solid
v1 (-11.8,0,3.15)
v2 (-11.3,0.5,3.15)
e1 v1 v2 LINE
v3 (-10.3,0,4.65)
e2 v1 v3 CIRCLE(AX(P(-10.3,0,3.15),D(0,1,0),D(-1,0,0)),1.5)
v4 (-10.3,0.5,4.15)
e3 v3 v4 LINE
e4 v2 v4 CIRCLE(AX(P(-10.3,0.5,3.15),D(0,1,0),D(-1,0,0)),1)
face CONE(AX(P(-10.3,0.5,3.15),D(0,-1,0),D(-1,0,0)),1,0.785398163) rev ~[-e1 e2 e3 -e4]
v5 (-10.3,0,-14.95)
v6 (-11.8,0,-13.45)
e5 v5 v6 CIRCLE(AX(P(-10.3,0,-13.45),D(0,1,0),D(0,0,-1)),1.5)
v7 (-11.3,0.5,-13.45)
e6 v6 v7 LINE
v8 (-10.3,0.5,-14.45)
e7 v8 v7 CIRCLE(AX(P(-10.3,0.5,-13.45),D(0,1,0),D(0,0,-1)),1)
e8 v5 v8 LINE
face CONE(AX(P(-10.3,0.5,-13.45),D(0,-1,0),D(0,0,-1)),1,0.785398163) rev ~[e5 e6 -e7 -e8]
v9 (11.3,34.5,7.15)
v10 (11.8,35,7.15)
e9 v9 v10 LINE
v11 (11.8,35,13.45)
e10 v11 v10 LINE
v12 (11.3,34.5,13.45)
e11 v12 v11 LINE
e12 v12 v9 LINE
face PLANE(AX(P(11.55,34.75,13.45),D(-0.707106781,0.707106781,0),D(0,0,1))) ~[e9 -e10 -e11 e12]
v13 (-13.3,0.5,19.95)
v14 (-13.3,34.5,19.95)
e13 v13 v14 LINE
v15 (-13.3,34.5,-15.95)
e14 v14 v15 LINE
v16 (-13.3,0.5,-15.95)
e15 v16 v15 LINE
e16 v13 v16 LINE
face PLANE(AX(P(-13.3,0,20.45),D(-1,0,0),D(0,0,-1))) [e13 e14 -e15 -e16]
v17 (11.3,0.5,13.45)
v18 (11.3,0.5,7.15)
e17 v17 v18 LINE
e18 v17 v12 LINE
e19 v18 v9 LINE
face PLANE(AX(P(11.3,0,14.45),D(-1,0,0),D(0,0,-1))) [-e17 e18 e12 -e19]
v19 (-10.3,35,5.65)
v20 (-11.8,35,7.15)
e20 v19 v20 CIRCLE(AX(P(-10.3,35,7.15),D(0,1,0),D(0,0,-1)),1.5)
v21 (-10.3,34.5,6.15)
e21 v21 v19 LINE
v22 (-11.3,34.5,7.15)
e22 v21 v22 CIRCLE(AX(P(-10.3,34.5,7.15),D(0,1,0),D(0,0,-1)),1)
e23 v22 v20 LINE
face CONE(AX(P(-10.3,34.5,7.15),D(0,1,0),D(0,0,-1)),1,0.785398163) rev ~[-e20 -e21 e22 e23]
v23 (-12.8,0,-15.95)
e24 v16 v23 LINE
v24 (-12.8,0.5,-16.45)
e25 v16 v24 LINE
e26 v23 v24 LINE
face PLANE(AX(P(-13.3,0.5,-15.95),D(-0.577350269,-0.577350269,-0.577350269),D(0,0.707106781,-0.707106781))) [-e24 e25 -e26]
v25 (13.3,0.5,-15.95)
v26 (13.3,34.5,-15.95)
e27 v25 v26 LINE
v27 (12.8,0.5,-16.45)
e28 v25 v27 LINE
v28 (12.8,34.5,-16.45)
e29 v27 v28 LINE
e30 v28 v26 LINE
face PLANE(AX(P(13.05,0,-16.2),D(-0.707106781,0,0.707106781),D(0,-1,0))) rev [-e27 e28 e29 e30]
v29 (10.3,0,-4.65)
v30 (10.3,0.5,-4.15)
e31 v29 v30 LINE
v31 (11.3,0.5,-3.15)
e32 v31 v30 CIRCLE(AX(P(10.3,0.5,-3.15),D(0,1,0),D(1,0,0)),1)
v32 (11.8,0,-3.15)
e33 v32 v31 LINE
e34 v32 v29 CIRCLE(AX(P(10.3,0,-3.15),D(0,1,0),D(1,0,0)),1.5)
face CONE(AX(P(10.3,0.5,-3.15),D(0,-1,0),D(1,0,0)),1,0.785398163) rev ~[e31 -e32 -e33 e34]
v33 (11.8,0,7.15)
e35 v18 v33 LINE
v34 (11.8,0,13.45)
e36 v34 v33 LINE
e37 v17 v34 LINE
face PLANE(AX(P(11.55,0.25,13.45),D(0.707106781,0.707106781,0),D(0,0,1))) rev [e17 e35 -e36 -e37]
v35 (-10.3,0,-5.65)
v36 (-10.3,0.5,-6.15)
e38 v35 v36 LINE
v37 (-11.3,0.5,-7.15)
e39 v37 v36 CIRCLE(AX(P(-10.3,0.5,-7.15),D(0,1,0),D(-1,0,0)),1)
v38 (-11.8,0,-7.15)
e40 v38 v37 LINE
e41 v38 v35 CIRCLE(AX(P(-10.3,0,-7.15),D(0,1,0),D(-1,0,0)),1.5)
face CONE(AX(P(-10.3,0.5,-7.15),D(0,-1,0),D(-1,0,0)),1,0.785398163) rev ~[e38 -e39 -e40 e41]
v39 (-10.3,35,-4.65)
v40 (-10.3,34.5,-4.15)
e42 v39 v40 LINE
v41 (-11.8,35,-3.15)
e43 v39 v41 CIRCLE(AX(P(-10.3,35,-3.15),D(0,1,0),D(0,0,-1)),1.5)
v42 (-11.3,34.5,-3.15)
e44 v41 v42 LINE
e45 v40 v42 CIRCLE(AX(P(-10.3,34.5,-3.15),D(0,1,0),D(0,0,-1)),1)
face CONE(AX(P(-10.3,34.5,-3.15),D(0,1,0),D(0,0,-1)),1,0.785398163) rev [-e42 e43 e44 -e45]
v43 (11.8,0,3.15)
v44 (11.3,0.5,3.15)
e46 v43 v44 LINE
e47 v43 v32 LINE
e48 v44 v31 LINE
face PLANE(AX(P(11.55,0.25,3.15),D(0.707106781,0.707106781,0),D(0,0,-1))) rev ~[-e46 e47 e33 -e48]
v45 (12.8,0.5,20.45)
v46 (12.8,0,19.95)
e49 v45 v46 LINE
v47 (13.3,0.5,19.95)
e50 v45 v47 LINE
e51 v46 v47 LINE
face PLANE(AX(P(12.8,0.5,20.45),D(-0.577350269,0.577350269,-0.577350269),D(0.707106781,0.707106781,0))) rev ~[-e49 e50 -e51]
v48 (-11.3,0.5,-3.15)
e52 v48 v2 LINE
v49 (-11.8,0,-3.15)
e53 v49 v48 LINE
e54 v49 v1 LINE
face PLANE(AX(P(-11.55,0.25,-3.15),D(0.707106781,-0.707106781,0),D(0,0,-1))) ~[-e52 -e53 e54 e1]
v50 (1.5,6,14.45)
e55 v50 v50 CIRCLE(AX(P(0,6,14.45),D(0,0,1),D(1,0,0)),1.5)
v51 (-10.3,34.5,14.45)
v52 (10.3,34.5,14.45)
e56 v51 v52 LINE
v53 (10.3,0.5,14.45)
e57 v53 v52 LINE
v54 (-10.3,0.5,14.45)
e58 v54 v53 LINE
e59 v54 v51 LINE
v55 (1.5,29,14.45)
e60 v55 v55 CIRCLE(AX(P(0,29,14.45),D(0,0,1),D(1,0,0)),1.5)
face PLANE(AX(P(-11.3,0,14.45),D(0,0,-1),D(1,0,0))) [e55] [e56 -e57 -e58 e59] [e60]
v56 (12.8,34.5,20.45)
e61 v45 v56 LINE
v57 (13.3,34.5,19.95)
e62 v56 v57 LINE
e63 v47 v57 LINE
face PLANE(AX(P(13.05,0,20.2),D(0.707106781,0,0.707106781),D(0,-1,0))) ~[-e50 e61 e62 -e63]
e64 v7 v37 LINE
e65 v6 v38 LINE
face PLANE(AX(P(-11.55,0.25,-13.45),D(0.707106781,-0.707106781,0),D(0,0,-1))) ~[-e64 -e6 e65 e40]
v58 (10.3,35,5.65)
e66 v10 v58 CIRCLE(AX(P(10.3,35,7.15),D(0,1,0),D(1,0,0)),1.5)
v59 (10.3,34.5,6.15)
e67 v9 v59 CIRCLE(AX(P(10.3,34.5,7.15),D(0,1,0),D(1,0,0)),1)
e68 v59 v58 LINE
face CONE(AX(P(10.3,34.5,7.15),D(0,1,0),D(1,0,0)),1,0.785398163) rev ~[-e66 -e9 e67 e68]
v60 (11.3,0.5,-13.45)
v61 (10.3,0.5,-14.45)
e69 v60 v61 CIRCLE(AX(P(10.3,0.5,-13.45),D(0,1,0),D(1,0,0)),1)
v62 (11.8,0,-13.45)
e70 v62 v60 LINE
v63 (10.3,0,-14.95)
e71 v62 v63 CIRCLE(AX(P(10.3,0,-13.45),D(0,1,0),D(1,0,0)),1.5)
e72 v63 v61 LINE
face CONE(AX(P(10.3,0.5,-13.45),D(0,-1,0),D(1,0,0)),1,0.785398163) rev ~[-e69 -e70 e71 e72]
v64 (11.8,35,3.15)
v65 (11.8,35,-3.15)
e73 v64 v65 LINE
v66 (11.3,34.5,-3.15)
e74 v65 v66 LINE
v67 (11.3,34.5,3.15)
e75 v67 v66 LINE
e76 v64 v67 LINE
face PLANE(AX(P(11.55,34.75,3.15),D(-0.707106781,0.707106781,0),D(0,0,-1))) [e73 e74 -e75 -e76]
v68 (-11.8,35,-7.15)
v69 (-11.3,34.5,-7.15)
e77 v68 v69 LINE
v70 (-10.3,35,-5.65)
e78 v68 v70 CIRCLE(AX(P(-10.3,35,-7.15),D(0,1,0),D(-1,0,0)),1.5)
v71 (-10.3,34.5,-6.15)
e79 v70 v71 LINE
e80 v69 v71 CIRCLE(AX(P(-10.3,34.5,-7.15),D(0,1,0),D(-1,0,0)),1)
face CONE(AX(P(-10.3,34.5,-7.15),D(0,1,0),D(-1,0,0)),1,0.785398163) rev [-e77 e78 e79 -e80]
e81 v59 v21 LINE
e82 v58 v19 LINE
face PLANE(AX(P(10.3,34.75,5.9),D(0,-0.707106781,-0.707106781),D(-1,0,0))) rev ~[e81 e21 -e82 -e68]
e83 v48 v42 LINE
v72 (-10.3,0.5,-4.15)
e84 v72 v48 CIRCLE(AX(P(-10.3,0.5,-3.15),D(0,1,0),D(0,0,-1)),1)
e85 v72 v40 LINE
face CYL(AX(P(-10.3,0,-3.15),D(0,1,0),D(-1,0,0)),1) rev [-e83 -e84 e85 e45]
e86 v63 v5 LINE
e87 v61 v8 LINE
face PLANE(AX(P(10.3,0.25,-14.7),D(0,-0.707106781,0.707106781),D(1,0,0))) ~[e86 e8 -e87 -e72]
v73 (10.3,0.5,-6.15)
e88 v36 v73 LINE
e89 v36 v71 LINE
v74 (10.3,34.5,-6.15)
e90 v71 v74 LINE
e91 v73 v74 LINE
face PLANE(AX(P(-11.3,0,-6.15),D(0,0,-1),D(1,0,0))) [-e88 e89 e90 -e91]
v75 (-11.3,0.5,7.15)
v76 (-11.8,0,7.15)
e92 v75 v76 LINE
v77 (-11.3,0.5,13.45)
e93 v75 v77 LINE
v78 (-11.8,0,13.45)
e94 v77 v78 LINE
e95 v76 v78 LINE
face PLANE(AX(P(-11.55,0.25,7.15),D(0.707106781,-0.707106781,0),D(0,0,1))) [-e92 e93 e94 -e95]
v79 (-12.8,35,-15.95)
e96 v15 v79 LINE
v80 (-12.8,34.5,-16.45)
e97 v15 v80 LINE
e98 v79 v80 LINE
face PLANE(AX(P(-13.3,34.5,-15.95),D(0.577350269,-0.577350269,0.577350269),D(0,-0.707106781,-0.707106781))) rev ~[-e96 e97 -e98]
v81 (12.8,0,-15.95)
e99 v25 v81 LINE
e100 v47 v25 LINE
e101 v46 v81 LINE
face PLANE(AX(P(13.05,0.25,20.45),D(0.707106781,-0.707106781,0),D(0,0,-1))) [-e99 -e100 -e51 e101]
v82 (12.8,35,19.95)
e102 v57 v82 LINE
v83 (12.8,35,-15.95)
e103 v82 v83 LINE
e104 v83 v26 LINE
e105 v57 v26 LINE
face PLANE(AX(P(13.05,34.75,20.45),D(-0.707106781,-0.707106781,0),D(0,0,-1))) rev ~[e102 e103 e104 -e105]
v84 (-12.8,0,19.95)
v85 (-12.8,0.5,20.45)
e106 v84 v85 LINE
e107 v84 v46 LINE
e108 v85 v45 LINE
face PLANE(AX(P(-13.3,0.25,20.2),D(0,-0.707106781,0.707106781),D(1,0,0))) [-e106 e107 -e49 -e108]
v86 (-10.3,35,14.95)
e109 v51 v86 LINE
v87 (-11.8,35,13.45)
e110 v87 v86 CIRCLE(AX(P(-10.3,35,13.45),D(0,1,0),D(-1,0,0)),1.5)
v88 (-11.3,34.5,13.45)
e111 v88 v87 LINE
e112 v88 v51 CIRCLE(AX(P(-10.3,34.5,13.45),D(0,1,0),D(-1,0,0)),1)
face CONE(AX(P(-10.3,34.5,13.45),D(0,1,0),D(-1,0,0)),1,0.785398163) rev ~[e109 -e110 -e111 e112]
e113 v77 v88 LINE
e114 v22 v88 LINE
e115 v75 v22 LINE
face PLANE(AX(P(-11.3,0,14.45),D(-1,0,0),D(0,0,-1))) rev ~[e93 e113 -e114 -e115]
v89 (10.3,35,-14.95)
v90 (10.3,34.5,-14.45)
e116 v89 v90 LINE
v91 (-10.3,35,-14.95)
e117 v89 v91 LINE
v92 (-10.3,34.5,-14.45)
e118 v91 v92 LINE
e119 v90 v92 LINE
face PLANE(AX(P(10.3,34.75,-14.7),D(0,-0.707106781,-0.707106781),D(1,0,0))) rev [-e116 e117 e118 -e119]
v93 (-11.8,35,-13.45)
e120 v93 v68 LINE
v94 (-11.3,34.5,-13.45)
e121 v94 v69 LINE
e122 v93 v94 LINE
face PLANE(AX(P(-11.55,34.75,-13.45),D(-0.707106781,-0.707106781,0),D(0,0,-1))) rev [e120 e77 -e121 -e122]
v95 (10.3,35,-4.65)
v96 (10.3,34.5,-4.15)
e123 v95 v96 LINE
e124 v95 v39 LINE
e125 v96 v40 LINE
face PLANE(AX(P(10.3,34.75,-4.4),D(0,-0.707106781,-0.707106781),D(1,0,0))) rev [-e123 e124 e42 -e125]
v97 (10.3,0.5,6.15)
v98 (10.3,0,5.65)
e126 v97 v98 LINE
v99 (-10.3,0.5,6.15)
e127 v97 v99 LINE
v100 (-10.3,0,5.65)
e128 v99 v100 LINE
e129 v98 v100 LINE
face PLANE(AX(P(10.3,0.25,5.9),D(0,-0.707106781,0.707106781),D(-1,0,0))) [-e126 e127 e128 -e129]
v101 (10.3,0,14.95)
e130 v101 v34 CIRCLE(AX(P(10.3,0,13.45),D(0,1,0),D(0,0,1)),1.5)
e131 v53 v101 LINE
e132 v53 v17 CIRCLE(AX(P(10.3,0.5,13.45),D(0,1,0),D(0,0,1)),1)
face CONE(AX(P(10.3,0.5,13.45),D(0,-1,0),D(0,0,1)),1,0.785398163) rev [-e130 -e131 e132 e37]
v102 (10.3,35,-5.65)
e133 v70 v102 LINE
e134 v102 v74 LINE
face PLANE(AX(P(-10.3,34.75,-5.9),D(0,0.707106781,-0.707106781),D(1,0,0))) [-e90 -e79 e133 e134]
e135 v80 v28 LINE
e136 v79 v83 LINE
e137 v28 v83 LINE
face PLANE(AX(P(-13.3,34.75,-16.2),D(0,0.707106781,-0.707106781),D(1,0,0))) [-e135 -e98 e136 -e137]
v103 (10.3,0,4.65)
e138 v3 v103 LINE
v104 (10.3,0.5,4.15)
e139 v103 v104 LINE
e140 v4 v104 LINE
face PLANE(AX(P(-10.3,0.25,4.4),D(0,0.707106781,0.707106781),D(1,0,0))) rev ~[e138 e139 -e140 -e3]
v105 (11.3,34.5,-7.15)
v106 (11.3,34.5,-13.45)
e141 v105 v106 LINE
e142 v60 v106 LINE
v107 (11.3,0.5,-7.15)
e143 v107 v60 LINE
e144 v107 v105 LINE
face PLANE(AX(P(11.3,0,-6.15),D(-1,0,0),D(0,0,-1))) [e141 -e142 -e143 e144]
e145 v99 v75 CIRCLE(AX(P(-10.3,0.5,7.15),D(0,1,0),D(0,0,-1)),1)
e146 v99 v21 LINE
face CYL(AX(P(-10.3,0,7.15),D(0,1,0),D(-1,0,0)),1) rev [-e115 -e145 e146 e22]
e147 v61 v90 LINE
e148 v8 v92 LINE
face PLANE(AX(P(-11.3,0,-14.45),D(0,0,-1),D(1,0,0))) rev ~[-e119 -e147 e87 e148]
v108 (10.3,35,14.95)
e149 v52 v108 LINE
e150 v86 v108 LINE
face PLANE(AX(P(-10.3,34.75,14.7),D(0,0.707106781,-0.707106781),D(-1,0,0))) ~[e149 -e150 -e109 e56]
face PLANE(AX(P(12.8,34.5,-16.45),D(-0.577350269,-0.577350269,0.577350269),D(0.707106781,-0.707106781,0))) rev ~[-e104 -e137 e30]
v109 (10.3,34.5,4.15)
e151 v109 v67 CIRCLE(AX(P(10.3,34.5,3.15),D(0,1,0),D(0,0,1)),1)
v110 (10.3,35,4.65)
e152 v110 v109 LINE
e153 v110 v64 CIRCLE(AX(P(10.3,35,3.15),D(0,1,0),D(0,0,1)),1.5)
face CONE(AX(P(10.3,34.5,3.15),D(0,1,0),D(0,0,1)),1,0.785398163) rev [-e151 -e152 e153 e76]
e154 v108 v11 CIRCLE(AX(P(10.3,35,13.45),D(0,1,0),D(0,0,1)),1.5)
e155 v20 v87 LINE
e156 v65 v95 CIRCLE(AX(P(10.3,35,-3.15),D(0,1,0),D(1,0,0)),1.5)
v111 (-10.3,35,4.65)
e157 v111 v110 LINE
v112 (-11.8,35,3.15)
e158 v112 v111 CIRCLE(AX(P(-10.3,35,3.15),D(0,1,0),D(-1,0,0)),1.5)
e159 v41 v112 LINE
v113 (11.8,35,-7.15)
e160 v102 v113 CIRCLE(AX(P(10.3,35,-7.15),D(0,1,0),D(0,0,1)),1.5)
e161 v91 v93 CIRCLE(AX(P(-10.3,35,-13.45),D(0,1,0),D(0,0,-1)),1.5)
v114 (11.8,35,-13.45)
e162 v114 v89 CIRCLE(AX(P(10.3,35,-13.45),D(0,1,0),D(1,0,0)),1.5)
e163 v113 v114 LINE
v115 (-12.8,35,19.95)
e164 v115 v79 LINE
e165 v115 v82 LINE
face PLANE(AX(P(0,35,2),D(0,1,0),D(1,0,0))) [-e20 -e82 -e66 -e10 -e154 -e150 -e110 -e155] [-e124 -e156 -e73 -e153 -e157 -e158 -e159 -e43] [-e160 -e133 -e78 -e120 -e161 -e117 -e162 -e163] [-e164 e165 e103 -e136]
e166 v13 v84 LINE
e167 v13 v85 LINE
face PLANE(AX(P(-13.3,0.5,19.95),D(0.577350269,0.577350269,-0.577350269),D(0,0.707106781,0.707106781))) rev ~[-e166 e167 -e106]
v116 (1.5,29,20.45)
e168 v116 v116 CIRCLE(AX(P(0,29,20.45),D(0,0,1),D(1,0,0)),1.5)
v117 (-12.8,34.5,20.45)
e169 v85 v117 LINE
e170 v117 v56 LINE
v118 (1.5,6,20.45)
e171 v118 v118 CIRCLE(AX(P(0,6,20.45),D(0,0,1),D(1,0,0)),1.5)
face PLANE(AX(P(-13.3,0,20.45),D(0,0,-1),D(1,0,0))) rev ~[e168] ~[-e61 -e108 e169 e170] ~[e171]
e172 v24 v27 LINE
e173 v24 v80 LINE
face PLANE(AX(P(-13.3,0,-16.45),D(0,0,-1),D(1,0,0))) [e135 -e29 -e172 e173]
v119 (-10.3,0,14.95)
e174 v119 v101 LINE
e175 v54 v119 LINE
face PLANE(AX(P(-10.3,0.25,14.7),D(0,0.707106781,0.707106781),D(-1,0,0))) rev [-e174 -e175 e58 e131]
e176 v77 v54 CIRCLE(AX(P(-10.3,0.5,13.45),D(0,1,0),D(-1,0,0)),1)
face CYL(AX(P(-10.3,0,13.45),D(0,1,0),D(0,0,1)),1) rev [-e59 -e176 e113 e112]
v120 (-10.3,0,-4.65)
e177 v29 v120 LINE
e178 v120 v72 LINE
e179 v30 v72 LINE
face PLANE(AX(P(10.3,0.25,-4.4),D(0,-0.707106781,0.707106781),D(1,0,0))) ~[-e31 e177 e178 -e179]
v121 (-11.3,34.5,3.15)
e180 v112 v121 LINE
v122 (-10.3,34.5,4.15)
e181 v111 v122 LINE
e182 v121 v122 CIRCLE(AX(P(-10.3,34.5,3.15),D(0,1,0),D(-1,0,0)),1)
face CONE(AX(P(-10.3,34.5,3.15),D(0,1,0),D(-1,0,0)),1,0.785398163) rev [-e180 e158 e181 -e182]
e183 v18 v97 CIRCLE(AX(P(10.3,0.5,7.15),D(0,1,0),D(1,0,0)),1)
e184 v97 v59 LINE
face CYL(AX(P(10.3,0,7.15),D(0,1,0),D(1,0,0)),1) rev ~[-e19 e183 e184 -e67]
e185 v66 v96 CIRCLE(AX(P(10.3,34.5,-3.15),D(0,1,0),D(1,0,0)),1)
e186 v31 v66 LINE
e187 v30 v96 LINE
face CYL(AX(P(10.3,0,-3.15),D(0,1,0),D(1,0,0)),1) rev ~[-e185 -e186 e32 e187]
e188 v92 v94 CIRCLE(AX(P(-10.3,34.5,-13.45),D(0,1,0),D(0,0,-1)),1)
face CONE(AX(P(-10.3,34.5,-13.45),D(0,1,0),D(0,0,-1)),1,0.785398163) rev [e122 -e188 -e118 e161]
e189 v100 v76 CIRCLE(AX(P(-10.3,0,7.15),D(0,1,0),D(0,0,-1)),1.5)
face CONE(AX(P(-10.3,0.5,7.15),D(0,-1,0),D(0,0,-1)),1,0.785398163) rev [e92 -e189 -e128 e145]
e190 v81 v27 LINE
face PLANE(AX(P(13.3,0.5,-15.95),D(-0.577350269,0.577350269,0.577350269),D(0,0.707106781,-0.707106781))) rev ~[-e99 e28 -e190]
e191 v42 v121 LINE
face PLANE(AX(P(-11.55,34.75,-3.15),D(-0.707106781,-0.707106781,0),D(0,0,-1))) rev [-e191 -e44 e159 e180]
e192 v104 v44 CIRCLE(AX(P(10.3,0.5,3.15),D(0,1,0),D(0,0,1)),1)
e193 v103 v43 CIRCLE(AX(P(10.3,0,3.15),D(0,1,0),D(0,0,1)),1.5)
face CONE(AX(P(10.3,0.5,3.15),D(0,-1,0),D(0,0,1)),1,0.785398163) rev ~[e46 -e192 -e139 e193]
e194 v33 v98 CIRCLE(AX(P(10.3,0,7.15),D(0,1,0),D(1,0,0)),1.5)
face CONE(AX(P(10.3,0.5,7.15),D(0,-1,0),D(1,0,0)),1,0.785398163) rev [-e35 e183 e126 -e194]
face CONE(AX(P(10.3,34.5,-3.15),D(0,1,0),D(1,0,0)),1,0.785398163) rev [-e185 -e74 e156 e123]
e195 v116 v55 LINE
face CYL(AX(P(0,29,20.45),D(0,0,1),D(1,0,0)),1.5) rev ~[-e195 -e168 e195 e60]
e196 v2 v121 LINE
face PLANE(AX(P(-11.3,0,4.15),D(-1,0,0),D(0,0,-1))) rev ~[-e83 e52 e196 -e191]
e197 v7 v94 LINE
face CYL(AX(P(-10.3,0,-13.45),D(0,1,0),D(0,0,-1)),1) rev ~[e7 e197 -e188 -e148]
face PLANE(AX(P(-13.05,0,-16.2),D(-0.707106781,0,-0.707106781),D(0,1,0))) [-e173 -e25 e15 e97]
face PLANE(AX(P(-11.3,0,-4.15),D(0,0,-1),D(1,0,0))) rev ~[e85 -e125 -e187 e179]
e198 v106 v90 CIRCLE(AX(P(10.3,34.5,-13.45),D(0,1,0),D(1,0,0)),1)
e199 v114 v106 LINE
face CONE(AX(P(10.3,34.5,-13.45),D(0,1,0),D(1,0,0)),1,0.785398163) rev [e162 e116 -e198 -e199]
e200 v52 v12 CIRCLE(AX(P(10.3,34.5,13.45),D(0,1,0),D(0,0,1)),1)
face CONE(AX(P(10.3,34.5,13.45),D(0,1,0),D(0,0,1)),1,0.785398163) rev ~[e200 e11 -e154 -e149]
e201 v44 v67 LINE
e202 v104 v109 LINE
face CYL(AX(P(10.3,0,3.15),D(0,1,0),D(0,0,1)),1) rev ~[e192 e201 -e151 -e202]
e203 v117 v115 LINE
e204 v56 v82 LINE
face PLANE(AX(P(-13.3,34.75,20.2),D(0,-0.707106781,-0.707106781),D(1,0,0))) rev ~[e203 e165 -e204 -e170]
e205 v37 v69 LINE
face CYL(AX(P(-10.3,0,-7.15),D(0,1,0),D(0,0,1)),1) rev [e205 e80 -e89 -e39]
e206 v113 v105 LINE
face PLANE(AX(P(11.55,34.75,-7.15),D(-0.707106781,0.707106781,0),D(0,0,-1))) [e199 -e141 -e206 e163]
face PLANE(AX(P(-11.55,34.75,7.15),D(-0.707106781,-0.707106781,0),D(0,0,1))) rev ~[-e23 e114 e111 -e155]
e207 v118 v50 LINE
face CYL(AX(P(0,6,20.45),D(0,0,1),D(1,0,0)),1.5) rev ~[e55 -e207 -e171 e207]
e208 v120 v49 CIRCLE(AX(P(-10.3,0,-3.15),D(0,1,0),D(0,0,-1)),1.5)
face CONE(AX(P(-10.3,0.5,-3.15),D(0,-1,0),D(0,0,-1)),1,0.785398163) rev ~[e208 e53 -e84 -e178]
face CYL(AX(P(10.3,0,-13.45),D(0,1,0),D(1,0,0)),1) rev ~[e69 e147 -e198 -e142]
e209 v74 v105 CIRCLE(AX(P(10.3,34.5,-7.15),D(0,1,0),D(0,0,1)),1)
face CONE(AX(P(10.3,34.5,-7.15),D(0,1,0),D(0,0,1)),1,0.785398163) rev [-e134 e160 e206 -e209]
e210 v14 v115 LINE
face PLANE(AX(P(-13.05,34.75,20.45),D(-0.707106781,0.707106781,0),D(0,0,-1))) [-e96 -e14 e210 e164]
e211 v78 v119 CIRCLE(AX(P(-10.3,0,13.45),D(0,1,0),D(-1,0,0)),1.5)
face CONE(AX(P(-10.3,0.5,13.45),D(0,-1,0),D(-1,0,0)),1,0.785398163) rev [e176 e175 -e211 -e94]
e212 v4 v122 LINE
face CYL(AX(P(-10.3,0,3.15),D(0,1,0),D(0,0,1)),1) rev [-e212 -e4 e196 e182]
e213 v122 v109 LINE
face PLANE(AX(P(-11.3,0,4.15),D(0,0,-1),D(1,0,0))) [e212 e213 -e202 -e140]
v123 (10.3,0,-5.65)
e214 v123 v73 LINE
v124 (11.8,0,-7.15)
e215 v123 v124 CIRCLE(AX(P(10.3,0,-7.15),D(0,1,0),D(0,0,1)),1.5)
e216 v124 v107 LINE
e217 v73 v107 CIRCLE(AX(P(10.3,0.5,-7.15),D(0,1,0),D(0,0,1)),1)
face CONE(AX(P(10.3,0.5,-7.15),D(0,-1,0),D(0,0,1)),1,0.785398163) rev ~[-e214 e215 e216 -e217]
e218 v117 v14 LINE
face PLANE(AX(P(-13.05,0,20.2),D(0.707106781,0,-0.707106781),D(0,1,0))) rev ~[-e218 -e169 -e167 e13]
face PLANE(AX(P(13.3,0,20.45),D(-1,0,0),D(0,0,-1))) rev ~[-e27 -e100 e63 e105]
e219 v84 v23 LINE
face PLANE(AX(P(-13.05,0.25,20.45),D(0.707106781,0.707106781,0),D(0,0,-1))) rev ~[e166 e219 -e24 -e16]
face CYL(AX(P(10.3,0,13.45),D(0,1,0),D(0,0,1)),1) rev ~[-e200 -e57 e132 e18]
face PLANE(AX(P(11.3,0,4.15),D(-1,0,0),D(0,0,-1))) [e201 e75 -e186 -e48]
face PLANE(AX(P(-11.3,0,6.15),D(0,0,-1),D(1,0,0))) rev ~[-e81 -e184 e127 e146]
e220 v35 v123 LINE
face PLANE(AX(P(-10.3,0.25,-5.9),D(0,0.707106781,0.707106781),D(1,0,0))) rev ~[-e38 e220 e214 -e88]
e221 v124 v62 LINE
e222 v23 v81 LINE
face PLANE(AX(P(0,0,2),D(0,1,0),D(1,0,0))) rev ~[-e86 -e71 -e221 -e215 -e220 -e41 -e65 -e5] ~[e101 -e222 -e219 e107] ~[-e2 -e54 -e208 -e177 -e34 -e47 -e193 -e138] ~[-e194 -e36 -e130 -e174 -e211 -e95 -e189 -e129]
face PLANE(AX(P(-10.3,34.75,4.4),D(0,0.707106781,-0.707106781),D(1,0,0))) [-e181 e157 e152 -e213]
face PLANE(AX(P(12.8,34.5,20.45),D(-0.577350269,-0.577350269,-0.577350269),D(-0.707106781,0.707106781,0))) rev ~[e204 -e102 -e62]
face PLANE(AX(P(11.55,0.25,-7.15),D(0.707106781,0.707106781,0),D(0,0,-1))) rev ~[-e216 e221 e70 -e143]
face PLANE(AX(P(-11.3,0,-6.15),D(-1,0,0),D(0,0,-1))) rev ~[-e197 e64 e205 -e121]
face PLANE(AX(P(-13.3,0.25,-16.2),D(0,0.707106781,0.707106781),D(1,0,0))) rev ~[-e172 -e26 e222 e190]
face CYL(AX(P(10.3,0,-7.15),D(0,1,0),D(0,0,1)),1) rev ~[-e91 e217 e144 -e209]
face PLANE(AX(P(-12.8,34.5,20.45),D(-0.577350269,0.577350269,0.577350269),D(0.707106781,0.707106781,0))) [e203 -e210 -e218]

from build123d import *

# Parameters (mm, degrees)
SKETCH2_W           = 26.6
SKETCH2_H           = 36.9
SKETCH2_W_2         = 22.6
SKETCH2_H_2         = 8.3
BOSS_EXTRUDE2_DEPTH = 35
FILLET1_R           = 1
CHAMFER1_SIZE       = 0.5
CUT_EXTRUDE1_REACH  = 54.569
SKETCH3_R           = 1.5


with BuildPart() as part:
    # Sketch2 → Boss-Extrude2 (new body)
    with BuildSketch(Plane(origin=(0, 0, 0), x_dir=(1, 0, 0), z_dir=(0, 1, 0))):
        with Locations((0, -2)):
            Rectangle(SKETCH2_W, SKETCH2_H)
        with Locations((0, -10.3)):
            Rectangle(SKETCH2_W_2, SKETCH2_H_2, mode=Mode.SUBTRACT)
        Rectangle(SKETCH2_W_2, SKETCH2_H_2, mode=Mode.SUBTRACT)
        with Locations((0, 10.3)):
            Rectangle(SKETCH2_W_2, SKETCH2_H_2, mode=Mode.SUBTRACT)
    extrude(amount=BOSS_EXTRUDE2_DEPTH)

    # Fillet1
    fillet1_edges = [part.edges().sort_by_distance(p)[0] for p in [
        (-11.3, 17.5, 6.15),
        (-11.3, 17.5, 14.45),
        (11.3, 17.5, 14.45),
        (11.3, 17.5, 6.15),
        (-11.3, 17.5, -4.15),
        (-11.3, 17.5, 4.15),
        (11.3, 17.5, 4.15),
        (11.3, 17.5, -4.15),
        (-11.3, 17.5, -14.45),
        (-11.3, 17.5, -6.15),
        (11.3, 17.5, -6.15),
        (11.3, 17.5, -14.45),
    ]]
    fillet(fillet1_edges, radius=FILLET1_R)

    # Chamfer1
    chamfer1_edges = [part.edges().sort_by_distance(p)[0] for p in [
        (13.3, 35, 2),
        (0, 35, -16.45),
        (-13.3, 35, 2),
        (0, 0, -16.45),
        (13.3, 0, 2),
        (0, 0, 20.45),
        (0, 0, 14.45),
        (0, 35, 14.45),
        (11.3, 0, 10.3),
        (-13.3, 0, 2),
        (11.3, 35, 10.3),
        (-11.3, 0, 10.3),
        (-11.3, 35, 10.3),
        (0, 0, 6.15),
        (0, 35, 6.15),
        (0, 0, 4.15),
        (0, 35, 4.15),
        (11.3, 0, 0),
        (11.3, 35, 0),
        (0, 0, -4.15),
        (0, 35, -4.15),
        (-11.3, 0, 0),
        (-11.3, 35, 0),
        (11.3, 0, -10.3),
        (-13.3, 17.5, -16.45),
        (11.3, 35, -10.3),
        (13.3, 17.5, -16.45),
        (13.3, 17.5, 20.45),
        (0, 0, -14.45),
        (0, 35, -14.45),
        (-13.3, 17.5, 20.45),
        (0, 0, -6.15),
        (0, 35, -6.15),
        (-11.3, 0, -10.3),
        (-11.3, 35, -10.3),
        (11.007106781, 0, 14.157106781),
        (11.007106781, 35, 14.157106781),
        (-11.007106781, 0, 14.157106781),
        (-11.007106781, 35, 14.157106781),
        (0, 35, 20.45),
        (-11.007106781, 0, 6.442893219),
        (-11.007106781, 35, 6.442893219),
        (11.007106781, 0, 6.442893219),
        (11.007106781, 35, 6.442893219),
        (11.007106781, 0, 3.857106781),
        (11.007106781, 35, 3.857106781),
        (11.007106781, 0, -3.857106781),
        (11.007106781, 35, -3.857106781),
        (-11.007106781, 0, -3.857106781),
        (-11.007106781, 35, -3.857106781),
        (-11.007106781, 0, 3.857106781),
        (-11.007106781, 35, 3.857106781),
        (11.007106781, 0, -14.157106781),
        (11.007106781, 35, -14.157106781),
        (11.007106781, 0, -6.442893219),
        (11.007106781, 35, -6.442893219),
        (-11.007106781, 0, -14.157106781),
        (-11.007106781, 35, -14.157106781),
        (-11.007106781, 0, -6.442893219),
        (-11.007106781, 35, -6.442893219),
    ]]
    chamfer(chamfer1_edges, length=CHAMFER1_SIZE)

    # Sketch3 → Cut-Extrude1 (cut, up to next)
    with BuildSketch(Plane.XY.offset(20.45), mode=Mode.PRIVATE) as cut_extrude1_sk1:
        with Locations((0, 29)):
            Circle(SKETCH3_R)
    cut_extrude1_tool1 = extrude(cut_extrude1_sk1.sketch, amount=-CUT_EXTRUDE1_REACH, mode=Mode.PRIVATE) & part.part
    # Sketch3 → Cut-Extrude1 (cut, up to next)
    with BuildSketch(Plane.XY.offset(20.45), mode=Mode.PRIVATE) as cut_extrude1_sk2:
        with Locations((0, 6)):
            Circle(SKETCH3_R)
    cut_extrude1_tool2 = extrude(cut_extrude1_sk2.sketch, amount=-CUT_EXTRUDE1_REACH, mode=Mode.PRIVATE) & part.part
    add(cut_extrude1_tool1.solids().sort_by_distance((0, 29, 20.45))[0], mode=Mode.SUBTRACT)
    add(cut_extrude1_tool2.solids().sort_by_distance((0, 6, 20.45))[0], mode=Mode.SUBTRACT)


solid = part.part
